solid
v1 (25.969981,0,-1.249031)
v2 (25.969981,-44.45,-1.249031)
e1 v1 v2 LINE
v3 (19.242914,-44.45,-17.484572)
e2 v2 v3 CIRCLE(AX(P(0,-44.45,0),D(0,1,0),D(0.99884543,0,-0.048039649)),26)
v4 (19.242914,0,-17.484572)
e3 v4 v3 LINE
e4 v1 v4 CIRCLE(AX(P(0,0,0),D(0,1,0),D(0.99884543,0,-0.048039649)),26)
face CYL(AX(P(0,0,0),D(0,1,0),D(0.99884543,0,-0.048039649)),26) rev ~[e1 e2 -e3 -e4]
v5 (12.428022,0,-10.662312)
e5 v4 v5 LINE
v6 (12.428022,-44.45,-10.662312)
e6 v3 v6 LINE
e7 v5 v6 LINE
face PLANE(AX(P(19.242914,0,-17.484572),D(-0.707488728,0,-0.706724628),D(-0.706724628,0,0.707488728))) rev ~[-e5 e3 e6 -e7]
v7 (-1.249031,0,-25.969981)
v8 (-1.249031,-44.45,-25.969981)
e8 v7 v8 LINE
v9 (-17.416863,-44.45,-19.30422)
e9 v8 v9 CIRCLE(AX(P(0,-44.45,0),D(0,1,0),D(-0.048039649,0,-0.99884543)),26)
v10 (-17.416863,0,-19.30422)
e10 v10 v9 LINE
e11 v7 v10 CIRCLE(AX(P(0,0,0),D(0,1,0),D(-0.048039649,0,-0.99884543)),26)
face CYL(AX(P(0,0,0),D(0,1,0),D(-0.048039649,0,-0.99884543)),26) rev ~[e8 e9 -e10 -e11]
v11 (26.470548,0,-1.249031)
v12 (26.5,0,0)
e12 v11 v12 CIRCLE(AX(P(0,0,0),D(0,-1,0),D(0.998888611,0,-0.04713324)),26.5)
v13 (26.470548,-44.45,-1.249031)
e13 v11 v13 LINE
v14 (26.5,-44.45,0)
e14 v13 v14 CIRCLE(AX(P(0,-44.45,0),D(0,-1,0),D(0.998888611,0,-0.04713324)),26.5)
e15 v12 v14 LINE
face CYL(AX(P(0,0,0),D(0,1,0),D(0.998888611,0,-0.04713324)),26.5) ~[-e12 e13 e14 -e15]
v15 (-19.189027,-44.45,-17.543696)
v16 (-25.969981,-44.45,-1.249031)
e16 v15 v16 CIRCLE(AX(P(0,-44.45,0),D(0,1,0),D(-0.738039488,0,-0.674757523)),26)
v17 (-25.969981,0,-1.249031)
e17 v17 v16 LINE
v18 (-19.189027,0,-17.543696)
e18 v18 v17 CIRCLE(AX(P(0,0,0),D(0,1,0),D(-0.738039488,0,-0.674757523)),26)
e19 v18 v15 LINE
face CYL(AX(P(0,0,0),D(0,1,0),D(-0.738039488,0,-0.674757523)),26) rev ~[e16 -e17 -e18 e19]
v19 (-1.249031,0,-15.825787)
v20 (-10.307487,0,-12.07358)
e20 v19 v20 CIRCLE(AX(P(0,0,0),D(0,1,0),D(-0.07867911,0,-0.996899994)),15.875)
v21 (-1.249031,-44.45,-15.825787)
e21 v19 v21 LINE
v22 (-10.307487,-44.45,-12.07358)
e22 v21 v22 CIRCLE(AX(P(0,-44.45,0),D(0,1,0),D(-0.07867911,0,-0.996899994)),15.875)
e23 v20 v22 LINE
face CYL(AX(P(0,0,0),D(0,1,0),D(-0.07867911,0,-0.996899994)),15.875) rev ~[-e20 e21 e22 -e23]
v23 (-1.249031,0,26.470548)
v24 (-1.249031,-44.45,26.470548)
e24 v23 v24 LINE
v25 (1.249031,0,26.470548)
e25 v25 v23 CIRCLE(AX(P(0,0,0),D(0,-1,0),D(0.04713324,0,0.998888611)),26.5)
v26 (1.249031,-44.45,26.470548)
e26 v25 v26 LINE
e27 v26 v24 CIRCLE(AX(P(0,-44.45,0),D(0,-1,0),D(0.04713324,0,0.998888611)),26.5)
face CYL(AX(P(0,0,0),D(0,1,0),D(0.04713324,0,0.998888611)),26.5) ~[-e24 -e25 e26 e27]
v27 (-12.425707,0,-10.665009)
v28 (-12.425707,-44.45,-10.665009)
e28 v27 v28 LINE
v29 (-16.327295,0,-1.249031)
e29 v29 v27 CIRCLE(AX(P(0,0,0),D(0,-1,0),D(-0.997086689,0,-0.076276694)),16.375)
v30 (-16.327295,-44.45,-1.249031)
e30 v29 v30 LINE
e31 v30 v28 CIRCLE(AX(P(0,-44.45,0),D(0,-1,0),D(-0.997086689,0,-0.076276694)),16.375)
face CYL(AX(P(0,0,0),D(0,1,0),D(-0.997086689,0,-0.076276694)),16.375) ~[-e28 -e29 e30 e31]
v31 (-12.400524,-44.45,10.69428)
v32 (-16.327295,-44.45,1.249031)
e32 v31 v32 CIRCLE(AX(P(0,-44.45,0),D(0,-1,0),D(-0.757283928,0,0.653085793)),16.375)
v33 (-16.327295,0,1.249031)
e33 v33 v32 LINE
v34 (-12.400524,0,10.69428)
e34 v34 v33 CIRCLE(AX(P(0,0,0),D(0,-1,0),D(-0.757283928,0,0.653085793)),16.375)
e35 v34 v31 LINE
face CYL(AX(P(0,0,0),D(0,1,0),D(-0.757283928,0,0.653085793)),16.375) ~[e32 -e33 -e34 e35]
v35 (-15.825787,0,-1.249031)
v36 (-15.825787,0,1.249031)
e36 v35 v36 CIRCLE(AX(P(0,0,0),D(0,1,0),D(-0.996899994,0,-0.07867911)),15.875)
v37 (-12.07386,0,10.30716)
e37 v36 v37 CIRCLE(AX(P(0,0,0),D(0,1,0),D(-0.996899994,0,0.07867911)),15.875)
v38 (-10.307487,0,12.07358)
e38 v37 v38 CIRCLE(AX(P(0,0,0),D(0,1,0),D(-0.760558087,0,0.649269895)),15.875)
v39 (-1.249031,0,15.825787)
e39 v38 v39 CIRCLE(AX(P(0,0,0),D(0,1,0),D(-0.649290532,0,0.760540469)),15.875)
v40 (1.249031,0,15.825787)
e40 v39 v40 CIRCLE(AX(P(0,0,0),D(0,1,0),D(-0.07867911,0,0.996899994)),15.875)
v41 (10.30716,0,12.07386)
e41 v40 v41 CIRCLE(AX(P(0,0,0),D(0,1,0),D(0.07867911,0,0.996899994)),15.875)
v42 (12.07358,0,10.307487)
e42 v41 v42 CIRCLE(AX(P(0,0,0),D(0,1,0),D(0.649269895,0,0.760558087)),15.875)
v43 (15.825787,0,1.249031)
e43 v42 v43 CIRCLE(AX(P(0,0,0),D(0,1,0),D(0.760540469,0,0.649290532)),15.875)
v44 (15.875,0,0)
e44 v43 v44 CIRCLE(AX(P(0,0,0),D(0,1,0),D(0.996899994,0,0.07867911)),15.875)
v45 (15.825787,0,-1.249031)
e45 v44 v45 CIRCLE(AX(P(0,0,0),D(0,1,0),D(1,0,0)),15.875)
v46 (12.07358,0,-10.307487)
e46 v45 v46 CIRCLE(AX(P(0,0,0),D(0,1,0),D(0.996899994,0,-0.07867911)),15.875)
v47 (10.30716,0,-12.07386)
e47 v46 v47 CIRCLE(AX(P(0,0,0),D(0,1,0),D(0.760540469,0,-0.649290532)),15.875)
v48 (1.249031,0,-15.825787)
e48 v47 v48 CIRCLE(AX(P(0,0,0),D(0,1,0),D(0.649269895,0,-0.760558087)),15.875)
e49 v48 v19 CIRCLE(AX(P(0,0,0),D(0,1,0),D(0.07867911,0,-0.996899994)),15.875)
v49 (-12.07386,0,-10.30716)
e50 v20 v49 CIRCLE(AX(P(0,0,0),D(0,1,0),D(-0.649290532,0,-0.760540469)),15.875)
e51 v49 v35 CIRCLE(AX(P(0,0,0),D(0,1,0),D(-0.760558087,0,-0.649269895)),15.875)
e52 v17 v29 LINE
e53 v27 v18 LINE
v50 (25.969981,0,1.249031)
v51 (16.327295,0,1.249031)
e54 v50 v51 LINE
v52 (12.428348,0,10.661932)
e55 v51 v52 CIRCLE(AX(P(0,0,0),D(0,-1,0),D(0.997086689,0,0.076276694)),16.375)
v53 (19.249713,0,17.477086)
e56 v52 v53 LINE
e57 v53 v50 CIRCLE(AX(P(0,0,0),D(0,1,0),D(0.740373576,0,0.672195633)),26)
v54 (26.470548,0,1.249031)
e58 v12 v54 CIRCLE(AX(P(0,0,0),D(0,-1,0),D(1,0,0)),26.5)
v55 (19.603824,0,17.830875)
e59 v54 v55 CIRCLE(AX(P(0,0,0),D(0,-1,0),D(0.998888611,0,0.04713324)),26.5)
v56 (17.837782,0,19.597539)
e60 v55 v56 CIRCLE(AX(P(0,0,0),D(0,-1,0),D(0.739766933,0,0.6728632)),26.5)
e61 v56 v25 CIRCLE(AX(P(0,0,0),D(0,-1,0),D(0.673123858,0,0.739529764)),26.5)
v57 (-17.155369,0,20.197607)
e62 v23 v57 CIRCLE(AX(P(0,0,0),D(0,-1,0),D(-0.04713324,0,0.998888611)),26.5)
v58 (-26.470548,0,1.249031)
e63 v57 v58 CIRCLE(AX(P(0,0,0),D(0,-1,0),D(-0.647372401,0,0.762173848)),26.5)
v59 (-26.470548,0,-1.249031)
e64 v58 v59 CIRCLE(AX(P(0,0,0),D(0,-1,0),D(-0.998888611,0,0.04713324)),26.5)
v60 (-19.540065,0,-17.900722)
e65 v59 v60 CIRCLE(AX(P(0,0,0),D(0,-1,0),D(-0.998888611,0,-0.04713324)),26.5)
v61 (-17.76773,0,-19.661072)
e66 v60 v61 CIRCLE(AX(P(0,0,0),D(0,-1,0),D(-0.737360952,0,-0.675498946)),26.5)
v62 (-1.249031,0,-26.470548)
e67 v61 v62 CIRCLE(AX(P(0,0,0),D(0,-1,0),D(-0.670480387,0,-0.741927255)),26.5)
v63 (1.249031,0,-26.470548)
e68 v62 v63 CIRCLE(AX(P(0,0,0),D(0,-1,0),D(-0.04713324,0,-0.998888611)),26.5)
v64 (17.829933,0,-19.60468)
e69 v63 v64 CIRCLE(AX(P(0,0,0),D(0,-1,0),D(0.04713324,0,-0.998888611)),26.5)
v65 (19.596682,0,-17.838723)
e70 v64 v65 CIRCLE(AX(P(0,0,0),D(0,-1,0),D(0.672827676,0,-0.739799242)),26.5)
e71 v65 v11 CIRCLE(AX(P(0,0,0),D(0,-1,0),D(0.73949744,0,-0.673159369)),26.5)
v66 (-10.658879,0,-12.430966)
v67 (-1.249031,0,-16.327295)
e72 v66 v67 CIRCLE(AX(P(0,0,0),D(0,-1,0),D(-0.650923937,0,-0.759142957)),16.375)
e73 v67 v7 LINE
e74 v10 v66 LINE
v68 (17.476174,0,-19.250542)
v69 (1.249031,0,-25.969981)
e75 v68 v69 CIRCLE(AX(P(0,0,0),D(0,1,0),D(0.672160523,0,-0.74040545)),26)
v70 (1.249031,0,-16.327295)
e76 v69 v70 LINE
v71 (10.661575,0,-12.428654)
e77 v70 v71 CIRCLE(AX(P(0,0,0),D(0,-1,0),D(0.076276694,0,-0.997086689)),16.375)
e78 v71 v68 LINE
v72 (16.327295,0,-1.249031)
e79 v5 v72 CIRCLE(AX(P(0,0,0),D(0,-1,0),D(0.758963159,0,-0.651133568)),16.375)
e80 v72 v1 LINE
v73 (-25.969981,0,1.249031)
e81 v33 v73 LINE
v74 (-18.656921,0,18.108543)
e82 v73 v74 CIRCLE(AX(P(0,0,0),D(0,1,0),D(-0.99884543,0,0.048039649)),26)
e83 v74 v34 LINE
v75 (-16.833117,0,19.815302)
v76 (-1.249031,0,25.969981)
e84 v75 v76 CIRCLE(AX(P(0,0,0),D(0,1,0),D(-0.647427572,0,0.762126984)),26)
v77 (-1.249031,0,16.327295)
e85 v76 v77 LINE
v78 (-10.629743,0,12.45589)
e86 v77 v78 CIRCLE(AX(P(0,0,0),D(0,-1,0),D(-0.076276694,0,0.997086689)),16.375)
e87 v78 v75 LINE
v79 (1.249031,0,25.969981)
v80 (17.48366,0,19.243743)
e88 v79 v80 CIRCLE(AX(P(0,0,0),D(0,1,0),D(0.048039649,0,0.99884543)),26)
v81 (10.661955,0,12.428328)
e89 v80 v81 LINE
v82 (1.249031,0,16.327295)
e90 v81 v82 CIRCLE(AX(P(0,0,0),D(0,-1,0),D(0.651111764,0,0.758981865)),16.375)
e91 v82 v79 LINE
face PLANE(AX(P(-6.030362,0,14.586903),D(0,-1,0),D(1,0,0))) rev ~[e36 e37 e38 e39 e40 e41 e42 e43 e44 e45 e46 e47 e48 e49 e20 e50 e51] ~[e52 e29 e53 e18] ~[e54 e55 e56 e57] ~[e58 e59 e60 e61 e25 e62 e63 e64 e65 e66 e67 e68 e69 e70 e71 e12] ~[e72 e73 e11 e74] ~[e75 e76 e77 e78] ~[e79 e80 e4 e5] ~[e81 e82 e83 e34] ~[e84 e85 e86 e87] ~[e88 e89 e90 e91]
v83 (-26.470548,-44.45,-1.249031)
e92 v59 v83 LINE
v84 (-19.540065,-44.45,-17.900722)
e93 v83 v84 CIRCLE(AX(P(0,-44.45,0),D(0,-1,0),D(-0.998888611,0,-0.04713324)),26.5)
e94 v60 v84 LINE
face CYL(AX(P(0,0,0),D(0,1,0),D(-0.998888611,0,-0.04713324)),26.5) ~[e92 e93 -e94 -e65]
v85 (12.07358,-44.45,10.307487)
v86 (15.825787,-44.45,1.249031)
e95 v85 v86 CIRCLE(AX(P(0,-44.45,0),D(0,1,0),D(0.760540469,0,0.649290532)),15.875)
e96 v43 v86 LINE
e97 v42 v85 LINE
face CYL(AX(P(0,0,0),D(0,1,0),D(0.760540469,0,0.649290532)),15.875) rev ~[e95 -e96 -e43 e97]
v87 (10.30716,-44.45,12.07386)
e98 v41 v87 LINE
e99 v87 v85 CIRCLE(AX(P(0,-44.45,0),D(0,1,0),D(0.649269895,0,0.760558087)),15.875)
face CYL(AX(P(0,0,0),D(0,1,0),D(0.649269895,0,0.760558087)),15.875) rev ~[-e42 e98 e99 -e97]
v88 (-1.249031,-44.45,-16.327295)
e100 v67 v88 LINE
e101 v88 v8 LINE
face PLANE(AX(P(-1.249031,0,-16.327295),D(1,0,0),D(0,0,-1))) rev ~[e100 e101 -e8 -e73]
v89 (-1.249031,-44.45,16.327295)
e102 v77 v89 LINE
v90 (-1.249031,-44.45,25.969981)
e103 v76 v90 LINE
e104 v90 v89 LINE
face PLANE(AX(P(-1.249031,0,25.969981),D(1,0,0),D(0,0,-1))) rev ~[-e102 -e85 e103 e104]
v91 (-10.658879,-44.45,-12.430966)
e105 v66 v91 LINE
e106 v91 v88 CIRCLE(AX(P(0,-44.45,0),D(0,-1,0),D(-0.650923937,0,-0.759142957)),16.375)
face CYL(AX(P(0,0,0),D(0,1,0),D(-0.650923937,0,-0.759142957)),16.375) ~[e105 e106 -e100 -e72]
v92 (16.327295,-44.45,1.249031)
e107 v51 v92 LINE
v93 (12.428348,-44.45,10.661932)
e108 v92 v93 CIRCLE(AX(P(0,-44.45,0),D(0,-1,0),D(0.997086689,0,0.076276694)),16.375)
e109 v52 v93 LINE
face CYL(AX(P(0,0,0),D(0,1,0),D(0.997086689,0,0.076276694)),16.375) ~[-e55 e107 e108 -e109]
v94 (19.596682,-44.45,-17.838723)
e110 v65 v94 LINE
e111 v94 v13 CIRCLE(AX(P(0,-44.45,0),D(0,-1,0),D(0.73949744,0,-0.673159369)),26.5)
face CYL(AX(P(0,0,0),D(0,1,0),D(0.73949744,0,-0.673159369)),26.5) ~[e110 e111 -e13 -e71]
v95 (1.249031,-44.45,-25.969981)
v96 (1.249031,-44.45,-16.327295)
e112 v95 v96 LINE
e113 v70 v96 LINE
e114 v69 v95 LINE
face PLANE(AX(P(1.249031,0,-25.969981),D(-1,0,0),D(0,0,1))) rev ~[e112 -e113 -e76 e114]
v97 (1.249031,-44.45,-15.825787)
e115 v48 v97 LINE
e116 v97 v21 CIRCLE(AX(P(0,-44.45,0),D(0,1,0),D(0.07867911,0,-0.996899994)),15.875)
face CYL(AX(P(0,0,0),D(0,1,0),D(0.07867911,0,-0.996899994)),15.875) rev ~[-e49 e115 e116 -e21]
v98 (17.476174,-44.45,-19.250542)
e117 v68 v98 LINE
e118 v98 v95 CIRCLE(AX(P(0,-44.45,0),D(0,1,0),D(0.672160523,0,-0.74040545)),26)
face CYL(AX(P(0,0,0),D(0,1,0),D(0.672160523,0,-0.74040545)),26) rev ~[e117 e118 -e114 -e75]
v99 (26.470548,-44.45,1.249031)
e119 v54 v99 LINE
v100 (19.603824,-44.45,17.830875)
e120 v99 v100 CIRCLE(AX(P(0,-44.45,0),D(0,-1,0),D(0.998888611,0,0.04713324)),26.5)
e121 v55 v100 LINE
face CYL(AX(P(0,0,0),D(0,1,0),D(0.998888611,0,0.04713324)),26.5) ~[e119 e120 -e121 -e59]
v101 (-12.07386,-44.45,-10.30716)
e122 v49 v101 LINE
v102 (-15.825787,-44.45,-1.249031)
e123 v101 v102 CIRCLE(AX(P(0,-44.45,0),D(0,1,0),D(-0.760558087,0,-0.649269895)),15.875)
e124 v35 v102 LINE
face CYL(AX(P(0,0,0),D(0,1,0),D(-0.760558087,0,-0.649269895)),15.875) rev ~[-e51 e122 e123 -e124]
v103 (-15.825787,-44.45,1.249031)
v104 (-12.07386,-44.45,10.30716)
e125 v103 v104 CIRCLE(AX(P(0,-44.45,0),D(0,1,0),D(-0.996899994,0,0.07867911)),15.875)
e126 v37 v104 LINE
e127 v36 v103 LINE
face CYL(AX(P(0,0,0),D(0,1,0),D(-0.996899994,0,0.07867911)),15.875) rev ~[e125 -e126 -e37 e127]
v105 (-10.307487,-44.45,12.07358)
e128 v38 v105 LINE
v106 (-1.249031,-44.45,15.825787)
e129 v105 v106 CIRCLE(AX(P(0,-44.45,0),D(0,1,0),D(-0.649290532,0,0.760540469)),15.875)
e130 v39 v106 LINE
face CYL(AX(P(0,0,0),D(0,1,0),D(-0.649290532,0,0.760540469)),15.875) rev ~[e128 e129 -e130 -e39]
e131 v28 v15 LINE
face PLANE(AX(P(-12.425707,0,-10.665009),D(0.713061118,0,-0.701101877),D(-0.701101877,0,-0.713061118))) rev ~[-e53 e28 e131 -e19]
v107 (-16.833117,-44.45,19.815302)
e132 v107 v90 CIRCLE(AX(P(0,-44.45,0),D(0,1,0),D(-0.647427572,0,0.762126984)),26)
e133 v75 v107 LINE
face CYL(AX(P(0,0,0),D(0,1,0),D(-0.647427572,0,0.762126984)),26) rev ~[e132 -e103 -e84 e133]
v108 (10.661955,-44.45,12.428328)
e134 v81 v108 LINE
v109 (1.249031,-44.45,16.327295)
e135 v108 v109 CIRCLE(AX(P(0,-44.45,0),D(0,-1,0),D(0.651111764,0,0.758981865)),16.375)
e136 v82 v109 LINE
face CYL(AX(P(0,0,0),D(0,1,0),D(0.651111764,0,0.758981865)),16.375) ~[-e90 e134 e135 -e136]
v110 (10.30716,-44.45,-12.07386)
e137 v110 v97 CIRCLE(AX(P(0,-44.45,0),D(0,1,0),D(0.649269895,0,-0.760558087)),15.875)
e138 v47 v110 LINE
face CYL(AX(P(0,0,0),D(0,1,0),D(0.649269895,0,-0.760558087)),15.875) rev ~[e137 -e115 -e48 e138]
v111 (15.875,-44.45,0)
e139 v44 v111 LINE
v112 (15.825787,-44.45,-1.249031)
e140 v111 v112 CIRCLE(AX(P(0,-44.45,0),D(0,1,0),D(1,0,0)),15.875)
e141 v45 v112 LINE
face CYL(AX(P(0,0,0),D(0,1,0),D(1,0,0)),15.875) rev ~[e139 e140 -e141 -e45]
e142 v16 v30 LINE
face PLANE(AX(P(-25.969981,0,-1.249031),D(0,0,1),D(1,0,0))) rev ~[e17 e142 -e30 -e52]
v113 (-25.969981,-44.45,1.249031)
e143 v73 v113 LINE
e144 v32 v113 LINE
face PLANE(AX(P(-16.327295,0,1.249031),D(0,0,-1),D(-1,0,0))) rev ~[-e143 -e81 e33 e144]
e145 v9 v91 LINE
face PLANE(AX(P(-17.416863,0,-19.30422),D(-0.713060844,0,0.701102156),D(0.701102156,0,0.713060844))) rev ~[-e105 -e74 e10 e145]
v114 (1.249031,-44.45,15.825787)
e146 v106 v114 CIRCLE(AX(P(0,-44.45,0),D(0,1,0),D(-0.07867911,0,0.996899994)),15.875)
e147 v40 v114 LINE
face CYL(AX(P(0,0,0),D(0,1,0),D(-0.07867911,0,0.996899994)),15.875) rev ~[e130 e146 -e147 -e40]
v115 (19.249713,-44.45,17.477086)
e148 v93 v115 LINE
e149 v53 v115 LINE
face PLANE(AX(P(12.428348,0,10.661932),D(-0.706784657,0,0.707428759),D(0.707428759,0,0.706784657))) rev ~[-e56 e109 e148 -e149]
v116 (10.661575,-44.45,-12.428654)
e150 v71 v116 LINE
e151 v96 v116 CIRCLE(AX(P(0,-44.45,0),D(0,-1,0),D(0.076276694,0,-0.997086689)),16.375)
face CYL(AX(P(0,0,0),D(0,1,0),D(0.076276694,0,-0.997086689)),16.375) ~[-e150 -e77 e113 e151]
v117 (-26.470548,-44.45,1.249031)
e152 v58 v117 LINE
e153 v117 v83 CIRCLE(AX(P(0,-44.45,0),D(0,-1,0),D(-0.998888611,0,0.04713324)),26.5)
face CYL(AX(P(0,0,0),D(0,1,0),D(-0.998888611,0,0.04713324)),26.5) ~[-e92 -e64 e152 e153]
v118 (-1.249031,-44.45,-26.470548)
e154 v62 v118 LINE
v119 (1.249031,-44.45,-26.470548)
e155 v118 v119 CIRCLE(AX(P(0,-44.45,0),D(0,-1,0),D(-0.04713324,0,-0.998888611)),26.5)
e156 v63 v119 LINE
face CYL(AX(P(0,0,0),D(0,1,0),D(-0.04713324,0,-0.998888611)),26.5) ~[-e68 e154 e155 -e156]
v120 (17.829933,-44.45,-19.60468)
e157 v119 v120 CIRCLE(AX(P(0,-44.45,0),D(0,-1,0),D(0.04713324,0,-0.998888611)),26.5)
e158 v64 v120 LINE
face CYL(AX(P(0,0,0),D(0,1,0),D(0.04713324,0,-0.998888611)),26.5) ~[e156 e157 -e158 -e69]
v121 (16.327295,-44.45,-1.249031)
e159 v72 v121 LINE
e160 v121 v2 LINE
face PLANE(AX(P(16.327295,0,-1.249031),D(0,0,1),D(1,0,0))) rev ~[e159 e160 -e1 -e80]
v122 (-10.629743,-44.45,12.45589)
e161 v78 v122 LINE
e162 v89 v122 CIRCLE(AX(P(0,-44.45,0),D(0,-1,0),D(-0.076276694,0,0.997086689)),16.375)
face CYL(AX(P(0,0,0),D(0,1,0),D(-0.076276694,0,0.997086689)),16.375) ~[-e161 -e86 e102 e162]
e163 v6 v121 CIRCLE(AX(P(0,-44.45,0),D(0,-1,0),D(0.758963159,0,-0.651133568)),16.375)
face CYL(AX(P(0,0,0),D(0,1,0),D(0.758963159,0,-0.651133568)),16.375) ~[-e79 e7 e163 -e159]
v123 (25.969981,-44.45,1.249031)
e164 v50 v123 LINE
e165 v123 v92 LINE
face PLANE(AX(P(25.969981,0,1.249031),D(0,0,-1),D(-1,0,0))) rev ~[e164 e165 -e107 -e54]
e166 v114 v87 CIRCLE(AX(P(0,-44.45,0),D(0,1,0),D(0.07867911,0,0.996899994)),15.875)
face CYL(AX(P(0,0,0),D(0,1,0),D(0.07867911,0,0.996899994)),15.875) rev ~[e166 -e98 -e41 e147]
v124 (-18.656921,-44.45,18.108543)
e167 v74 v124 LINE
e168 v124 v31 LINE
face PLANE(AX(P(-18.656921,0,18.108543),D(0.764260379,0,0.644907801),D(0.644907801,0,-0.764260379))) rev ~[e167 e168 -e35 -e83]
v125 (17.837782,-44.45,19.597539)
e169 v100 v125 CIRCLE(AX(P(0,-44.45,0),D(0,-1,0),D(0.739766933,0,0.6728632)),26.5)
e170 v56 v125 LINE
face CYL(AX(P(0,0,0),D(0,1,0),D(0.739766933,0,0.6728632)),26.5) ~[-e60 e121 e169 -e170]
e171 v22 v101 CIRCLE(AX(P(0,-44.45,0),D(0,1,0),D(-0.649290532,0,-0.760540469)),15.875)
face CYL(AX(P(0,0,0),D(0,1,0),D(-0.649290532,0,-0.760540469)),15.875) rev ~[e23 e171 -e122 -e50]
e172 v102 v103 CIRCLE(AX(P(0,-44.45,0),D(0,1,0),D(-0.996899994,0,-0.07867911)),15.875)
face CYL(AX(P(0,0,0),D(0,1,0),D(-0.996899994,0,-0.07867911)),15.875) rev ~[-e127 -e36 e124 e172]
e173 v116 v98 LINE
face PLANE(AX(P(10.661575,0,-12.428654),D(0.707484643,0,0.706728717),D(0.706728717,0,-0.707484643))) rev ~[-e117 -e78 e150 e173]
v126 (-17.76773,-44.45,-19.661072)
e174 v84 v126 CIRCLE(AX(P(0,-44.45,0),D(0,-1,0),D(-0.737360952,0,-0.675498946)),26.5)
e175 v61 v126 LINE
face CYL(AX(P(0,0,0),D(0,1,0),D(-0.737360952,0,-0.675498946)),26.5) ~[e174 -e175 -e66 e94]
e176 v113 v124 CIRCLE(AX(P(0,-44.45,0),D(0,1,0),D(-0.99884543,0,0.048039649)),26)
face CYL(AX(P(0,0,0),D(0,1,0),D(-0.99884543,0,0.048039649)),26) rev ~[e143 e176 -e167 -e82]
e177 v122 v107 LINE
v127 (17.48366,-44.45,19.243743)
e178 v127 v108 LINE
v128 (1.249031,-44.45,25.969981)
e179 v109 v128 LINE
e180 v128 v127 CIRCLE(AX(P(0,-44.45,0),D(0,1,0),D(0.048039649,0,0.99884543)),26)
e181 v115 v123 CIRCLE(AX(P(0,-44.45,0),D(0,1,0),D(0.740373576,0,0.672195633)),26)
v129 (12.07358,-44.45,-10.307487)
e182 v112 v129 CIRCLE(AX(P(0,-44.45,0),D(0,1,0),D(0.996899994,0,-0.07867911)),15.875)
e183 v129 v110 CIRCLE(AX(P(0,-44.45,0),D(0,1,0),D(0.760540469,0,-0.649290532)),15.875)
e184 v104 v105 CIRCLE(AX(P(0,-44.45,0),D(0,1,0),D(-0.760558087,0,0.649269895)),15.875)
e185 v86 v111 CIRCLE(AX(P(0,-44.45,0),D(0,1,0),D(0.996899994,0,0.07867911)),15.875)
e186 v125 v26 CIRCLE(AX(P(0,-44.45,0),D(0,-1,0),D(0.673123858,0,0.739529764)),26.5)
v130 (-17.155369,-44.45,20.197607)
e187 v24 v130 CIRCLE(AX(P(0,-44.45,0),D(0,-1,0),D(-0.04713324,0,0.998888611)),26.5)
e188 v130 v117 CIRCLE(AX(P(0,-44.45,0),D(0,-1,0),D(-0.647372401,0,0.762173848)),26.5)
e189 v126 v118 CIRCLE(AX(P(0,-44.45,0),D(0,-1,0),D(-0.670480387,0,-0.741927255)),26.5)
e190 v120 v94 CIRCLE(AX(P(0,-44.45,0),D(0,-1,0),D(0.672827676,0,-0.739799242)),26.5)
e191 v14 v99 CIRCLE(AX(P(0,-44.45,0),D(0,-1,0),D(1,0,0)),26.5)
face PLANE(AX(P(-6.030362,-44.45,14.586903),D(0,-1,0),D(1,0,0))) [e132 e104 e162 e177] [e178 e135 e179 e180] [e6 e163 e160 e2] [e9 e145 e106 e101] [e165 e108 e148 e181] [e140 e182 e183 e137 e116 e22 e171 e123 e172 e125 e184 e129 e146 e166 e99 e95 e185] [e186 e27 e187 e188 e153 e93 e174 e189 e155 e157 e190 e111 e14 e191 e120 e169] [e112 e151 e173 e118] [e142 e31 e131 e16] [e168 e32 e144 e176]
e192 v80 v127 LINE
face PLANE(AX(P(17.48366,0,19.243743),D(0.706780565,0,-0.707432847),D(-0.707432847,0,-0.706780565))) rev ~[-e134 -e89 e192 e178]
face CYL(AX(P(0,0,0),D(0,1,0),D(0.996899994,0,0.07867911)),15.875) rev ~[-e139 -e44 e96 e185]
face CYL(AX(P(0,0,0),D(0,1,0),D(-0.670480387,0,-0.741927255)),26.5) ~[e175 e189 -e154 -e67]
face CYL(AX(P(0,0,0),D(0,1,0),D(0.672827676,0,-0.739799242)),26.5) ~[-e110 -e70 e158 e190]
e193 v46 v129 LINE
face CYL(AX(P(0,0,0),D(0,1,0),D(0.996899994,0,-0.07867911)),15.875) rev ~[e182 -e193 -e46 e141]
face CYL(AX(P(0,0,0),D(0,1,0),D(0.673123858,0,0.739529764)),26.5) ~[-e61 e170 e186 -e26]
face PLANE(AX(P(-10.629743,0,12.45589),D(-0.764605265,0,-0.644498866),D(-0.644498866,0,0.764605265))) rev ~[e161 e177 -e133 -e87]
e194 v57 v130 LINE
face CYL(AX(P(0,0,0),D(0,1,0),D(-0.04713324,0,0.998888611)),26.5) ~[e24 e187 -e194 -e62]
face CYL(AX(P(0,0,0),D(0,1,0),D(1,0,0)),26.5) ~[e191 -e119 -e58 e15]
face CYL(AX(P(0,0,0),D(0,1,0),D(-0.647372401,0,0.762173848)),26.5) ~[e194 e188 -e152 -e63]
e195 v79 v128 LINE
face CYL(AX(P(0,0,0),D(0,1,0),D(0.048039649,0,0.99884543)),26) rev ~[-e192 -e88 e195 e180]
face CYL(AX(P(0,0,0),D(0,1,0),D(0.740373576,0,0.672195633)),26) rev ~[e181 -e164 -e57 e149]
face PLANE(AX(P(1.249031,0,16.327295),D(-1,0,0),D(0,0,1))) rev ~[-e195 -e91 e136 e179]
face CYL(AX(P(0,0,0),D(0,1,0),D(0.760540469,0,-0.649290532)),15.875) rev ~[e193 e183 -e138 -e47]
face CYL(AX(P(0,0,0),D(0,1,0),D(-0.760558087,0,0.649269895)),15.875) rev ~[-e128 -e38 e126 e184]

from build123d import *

# Parameters (mm, degrees)
F1_DEPTH = 44.45


with BuildPart() as f1:
    # F0 (on Front) → F1 (new body)
    with BuildSketch(Plane.XZ):
        with BuildLine():
            Line((-1.2490308724, 15.8257874016), (-1.2490308724, 16.3272945364))
            ThreePointArc((-1.2490308724, 16.3272945364), (-6.2468599625, 15.1366233226), (-10.6297427896, 12.455889901))
            Line((-10.6297427896, 12.455889901), (-10.3074871892, 12.0735799515))
            ThreePointArc((-10.3074871892, 12.0735799515), (-6.0751989773, 14.6665463687), (-1.2490308724, 15.8257874016))
        make_face()
        with BuildLine():
            Line((1.2490308724, 15.8257874016), (1.2490308724, 16.3272945364))
            ThreePointArc((1.2490308724, 16.3272945364), (0, 16.375), (-1.2490308724, 16.3272945364))
            Line((-1.2490308724, 16.3272945364), (-1.2490308724, 15.8257874016))
            ThreePointArc((-1.2490308724, 15.8257874016), (0, 15.875), (1.2490308724, 15.8257874016))
        make_face()
        with BuildLine():
            Line((-10.3074871892, 12.0735799515), (-10.6297427896, 12.455889901))
            ThreePointArc((-10.6297427896, 12.455889901), (-11.5487712868, 11.6088977411), (-12.4005243169, 10.6942798573))
            Line((-12.4005243169, 10.6942798573), (-12.0738596244, 10.3071595879))
            ThreePointArc((-12.0738596244, 10.3071595879), (-11.2254724409, 11.2251678597), (-10.3074871892, 12.0735799515))
        make_face()
        with BuildLine():
            Line((-12.0738596244, 10.3071595879), (-12.4005243169, 10.6942798573))
            ThreePointArc((-12.4005243169, 10.6942798573), (-15.120353042, 6.2861394262), (-16.3272945364, 1.2490308724))
            Line((-16.3272945364, 1.2490308724), (-15.8257874016, 1.2490308724))
            ThreePointArc((-15.8257874016, 1.2490308724), (-14.6666287878, 6.075), (-12.0738596244, 10.3071595879))
        make_face()
        with BuildLine():
            Line((-15.8257874016, 1.2490308724), (-16.3272945364, 1.2490308724))
            ThreePointArc((-16.3272945364, 1.2490308724), (-16.375, 0), (-16.3272945364, -1.2490308724))
            Line((-16.3272945364, -1.2490308724), (-15.8257874016, -1.2490308724))
            ThreePointArc((-15.8257874016, -1.2490308724), (-15.875, 0), (-15.8257874016, 1.2490308724))
        make_face()
        with BuildLine():
            ThreePointArc((-16.3272945364, -1.2490308724), (-15.1277540364, -6.2683078112), (-12.42570743, -10.6650091357))
            Line((-12.42570743, -10.6650091357), (-12.0738596244, -10.3071595879))
            ThreePointArc((-12.0738596244, -10.3071595879), (-14.6666287878, -6.075), (-15.8257874016, -1.2490308724))
            Line((-15.8257874016, -1.2490308724), (-16.3272945364, -1.2490308724))
        make_face()
        with BuildLine():
            Line((10.3071595879, 12.0738596244), (10.6619551336, 12.4283280343))
            ThreePointArc((10.6619551336, 12.4283280343), (6.2664489031, 15.1285241562), (1.2490308724, 16.3272945364))
            Line((1.2490308724, 16.3272945364), (1.2490308724, 15.8257874016))
            ThreePointArc((1.2490308724, 15.8257874016), (6.075, 14.6666287878), (10.3071595879, 12.0738596244))
        make_face()
        with BuildLine():
            Line((12.0735799515, 10.3074871892), (12.4283478304, 10.6619320579))
            ThreePointArc((12.4283478304, 10.6619320579), (11.5788842912, 11.5788627927), (10.6619551336, 12.4283280343))
            Line((10.6619551336, 12.4283280343), (10.3071595879, 12.0738596244))
            ThreePointArc((10.3071595879, 12.0738596244), (11.2251678597, 11.2254724409), (12.0735799515, 10.3074871892))
        make_face()
        with BuildLine():
            Line((15.8257874016, 1.2490308724), (16.3272945364, 1.2490308724))
            ThreePointArc((16.3272945364, 1.2490308724), (15.1285299737, 6.2664348585), (12.4283478304, 10.6619320579))
            Line((12.4283478304, 10.6619320579), (12.0735799515, 10.3074871892))
            ThreePointArc((12.0735799515, 10.3074871892), (14.6665463687, 6.0751989773), (15.8257874016, 1.2490308724))
        make_face()
        with BuildLine():
            ThreePointArc((16.375, 0), (16.3630692878, 0.6249707856), (16.3272945364, 1.2490308724))
            Line((16.3272945364, 1.2490308724), (15.8257874016, 1.2490308724))
            ThreePointArc((15.8257874016, 1.2490308724), (15.8626920792, 0.625), (15.875, 0))
            ThreePointArc((15.875, 0), (15.8626920792, -0.625), (15.8257874016, -1.2490308724))
            Line((15.8257874016, -1.2490308724), (16.3272945364, -1.2490308724))
            ThreePointArc((16.3272945364, -1.2490308724), (16.3630692878, -0.6249707856), (16.375, 0))
        make_face()
        with BuildLine():
            ThreePointArc((12.4280217247, -10.6623121793), (15.1284341411, -6.2666662141), (16.3272945364, -1.2490308724))
            Line((16.3272945364, -1.2490308724), (15.8257874016, -1.2490308724))
            ThreePointArc((15.8257874016, -1.2490308724), (14.6665463687, -6.0751989773), (12.0735799515, -10.3074871892))
            Line((12.0735799515, -10.3074871892), (12.4280217247, -10.6623121793))
        make_face()
        with BuildLine():
            ThreePointArc((10.6615750043, -12.4286541278), (11.5785301419, -11.5792169318), (12.4280217247, -10.6623121793))
            Line((12.4280217247, -10.6623121793), (12.0735799515, -10.3074871892))
            ThreePointArc((12.0735799515, -10.3074871892), (11.2251678597, -11.2254724409), (10.3071595879, -12.0738596244))
            Line((10.3071595879, -12.0738596244), (10.6615750043, -12.4286541278))
        make_face()
        with BuildLine():
            ThreePointArc((1.2490308724, -16.3272945364), (6.266217547, -15.1286199851), (10.6615750043, -12.4286541278))
            Line((10.6615750043, -12.4286541278), (10.3071595879, -12.0738596244))
            ThreePointArc((10.3071595879, -12.0738596244), (6.075, -14.6666287878), (1.2490308724, -15.8257874016))
            Line((1.2490308724, -15.8257874016), (1.2490308724, -16.3272945364))
        make_face()
        with BuildLine():
            ThreePointArc((-1.2490308724, -16.3272945364), (0, -16.375), (1.2490308724, -16.3272945364))
            Line((1.2490308724, -16.3272945364), (1.2490308724, -15.8257874016))
            ThreePointArc((1.2490308724, -15.8257874016), (0, -15.875), (-1.2490308724, -15.8257874016))
            Line((-1.2490308724, -15.8257874016), (-1.2490308724, -16.3272945364))
        make_face()
        with BuildLine():
            ThreePointArc((-10.6588794621, -12.4309659163), (-6.2645771056, -15.1292993456), (-1.2490308724, -16.3272945364))
            Line((-1.2490308724, -16.3272945364), (-1.2490308724, -15.8257874016))
            ThreePointArc((-1.2490308724, -15.8257874016), (-6.0751989773, -14.6665463687), (-10.3074871892, -12.0735799515))
            Line((-10.3074871892, -12.0735799515), (-10.6588794621, -12.4309659163))
        make_face()
        with BuildLine():
            ThreePointArc((-12.42570743, -10.6650091357), (-11.5760178314, -11.5817285483), (-10.6588794621, -12.4309659163))
            Line((-10.6588794621, -12.4309659163), (-10.3074871892, -12.0735799515))
            ThreePointArc((-10.3074871892, -12.0735799515), (-11.2254724409, -11.2251678597), (-12.0738596244, -10.3071595879))
            Line((-12.0738596244, -10.3071595879), (-12.42570743, -10.6650091357))
        make_face()
        with BuildLine():
            Line((-16.3272945364, 1.2490308724), (-25.9699811683, 1.2490308724))
            ThreePointArc((-25.9699811683, 1.2490308724), (-26, 0), (-25.9699811683, -1.2490308724))
            Line((-25.9699811683, -1.2490308724), (-16.3272945364, -1.2490308724))
            ThreePointArc((-16.3272945364, -1.2490308724), (-16.375, 0), (-16.3272945364, 1.2490308724))
        make_face()
        with BuildLine():
            Line((-10.6297427896, 12.455889901), (-16.8331168629, 19.8153015793))
            ThreePointArc((-16.8331168629, 19.8153015793), (-17.7655269326, 18.9838366198), (-18.6569206444, 18.1085425164))
            Line((-18.6569206444, 18.1085425164), (-12.4005243169, 10.6942798573))
            ThreePointArc((-12.4005243169, 10.6942798573), (-11.5487712868, 11.6088977411), (-10.6297427896, 12.455889901))
        make_face()
        with BuildLine():
            Line((1.2490308724, 16.3272945364), (1.2490308724, 25.9699811683))
            ThreePointArc((1.2490308724, 25.9699811683), (0, 26), (-1.2490308724, 25.9699811683))
            Line((-1.2490308724, 25.9699811683), (-1.2490308724, 16.3272945364))
            ThreePointArc((-1.2490308724, 16.3272945364), (0, 16.375), (1.2490308724, 16.3272945364))
        make_face()
        with BuildLine():
            Line((12.4283478304, 10.6619320579), (19.2497129633, 17.4770864514))
            ThreePointArc((19.2497129633, 17.4770864514), (18.3879155416, 18.381636544), (17.4836598335, 19.2437428487))
            Line((17.4836598335, 19.2437428487), (10.6619551336, 12.4283280343))
            ThreePointArc((10.6619551336, 12.4283280343), (11.5788842912, 11.5788627927), (12.4283478304, 10.6619320579))
        make_face()
        with BuildLine():
            ThreePointArc((26, 0), (25.9924942087, 0.624695776), (25.9699811683, 1.2490308724))
            Line((25.9699811683, 1.2490308724), (16.3272945364, 1.2490308724))
            ThreePointArc((16.3272945364, 1.2490308724), (16.3630692878, 0.6249707856), (16.375, 0))
            ThreePointArc((16.375, 0), (16.3630692878, -0.6249707856), (16.3272945364, -1.2490308724))
            Line((16.3272945364, -1.2490308724), (25.9699811683, -1.2490308724))
            ThreePointArc((25.9699811683, -1.2490308724), (25.9924942087, -0.624695776), (26, 0))
        make_face()
        with BuildLine():
            ThreePointArc((17.4761736065, -19.2505417087), (18.3807645643, -18.3887871822), (19.2429137476, -17.4845723568))
            Line((19.2429137476, -17.4845723568), (12.4280217247, -10.6623121793))
            ThreePointArc((12.4280217247, -10.6623121793), (11.5785301419, -11.5792169318), (10.6615750043, -12.4286541278))
            Line((10.6615750043, -12.4286541278), (17.4761736065, -19.2505417087))
        make_face()
        with BuildLine():
            ThreePointArc((-1.2490308724, -25.9699811683), (0, -26), (1.2490308724, -25.9699811683))
            Line((1.2490308724, -25.9699811683), (1.2490308724, -16.3272945364))
            ThreePointArc((1.2490308724, -16.3272945364), (0, -16.375), (-1.2490308724, -16.3272945364))
            Line((-1.2490308724, -16.3272945364), (-1.2490308724, -25.9699811683))
        make_face()
        with BuildLine():
            ThreePointArc((-19.189026681, -17.5436955923), (-18.3241000354, -18.4452529907), (-17.4168625049, -19.3042197585))
            Line((-17.4168625049, -19.3042197585), (-10.6588794621, -12.4309659163))
            ThreePointArc((-10.6588794621, -12.4309659163), (-11.5760178314, -11.5817285483), (-12.42570743, -10.6650091357))
            Line((-12.42570743, -10.6650091357), (-19.189026681, -17.5436955923))
        make_face()
        with BuildLine():
            ThreePointArc((-26.4705481976, -1.2490308724), (-24.4655644109, -10.1826400337), (-19.540065228, -17.9007220772))
            Line((-19.540065228, -17.9007220772), (-19.189026681, -17.5436955923))
            ThreePointArc((-19.189026681, -17.5436955923), (-24.0044375495, -9.9893432183), (-25.9699811683, -1.2490308724))
            Line((-25.9699811683, -1.2490308724), (-26.4705481976, -1.2490308724))
        make_face()
        with BuildLine():
            Line((-25.9699811683, 1.2490308724), (-26.4705481976, 1.2490308724))
            ThreePointArc((-26.4705481976, 1.2490308724), (-26.5, 0), (-26.4705481976, -1.2490308724))
            Line((-26.4705481976, -1.2490308724), (-25.9699811683, -1.2490308724))
            ThreePointArc((-25.9699811683, -1.2490308724), (-26, 0), (-25.9699811683, 1.2490308724))
        make_face()
        with BuildLine():
            Line((-18.6569206444, 18.1085425164), (-18.9809440271, 18.4925326508))
            ThreePointArc((-18.9809440271, 18.4925326508), (-24.3062569055, 10.5572664664), (-26.4705481976, 1.2490308724))
            Line((-26.4705481976, 1.2490308724), (-25.9699811683, 1.2490308724))
            ThreePointArc((-25.9699811683, 1.2490308724), (-23.8526911389, 10.3464547276), (-18.6569206444, 18.1085425164))
        make_face()
        with BuildLine():
            Line((-16.8331168629, 19.8153015793), (-17.1553686227, 20.1976069726))
            ThreePointArc((-17.1553686227, 20.1976069726), (-18.0882584179, 19.3665925606), (-18.9809440271, 18.4925326508))
            Line((-18.9809440271, 18.4925326508), (-18.6569206444, 18.1085425164))
            ThreePointArc((-18.6569206444, 18.1085425164), (-17.7655269326, 18.9838366198), (-16.8331168629, 19.8153015793))
        make_face()
        with BuildLine():
            Line((-1.2490308724, 25.9699811683), (-1.2490308724, 26.4705481976))
            ThreePointArc((-1.2490308724, 26.4705481976), (-9.7220331257, 24.6522224536), (-17.1553686227, 20.1976069726))
            Line((-17.1553686227, 20.1976069726), (-16.8331168629, 19.8153015793))
            ThreePointArc((-16.8331168629, 19.8153015793), (-9.5504469472, 24.1824102006), (-1.2490308724, 25.9699811683))
        make_face()
        with BuildLine():
            Line((1.2490308724, 25.9699811683), (1.2490308724, 26.4705481976))
            ThreePointArc((1.2490308724, 26.4705481976), (0, 26.5), (-1.2490308724, 26.4705481976))
            Line((-1.2490308724, 26.4705481976), (-1.2490308724, 25.9699811683))
            ThreePointArc((-1.2490308724, 25.9699811683), (0, 26), (1.2490308724, 25.9699811683))
        make_face()
        with BuildLine():
            Line((17.4836598335, 19.2437428487), (17.8377822412, 19.5975387413))
            ThreePointArc((17.8377822412, 19.5975387413), (10.1432821835, 24.4819081476), (1.2490308724, 26.4705481976))
            Line((1.2490308724, 26.4705481976), (1.2490308724, 25.9699811683))
            ThreePointArc((1.2490308724, 25.9699811683), (9.9518337885, 24.020012578), (17.4836598335, 19.2437428487))
        make_face()
        with BuildLine():
            Line((19.2497129633, 17.4770864514), (19.6038237141, 17.8308747903))
            ThreePointArc((19.6038237141, 17.8308747903), (18.7416311858, 18.7350276353), (17.8377822412, 19.5975387413))
            Line((17.8377822412, 19.5975387413), (17.4836598335, 19.2437428487))
            ThreePointArc((17.4836598335, 19.2437428487), (18.3879155416, 18.381636544), (19.2497129633, 17.4770864514))
        make_face()
        with BuildLine():
            Line((25.9699811683, 1.2490308724), (26.4705481976, 1.2490308724))
            ThreePointArc((26.4705481976, 1.2490308724), (24.483695058, 10.1389682072), (19.6038237141, 17.8308747903))
            Line((19.6038237141, 17.8308747903), (19.2497129633, 17.4770864514))
            ThreePointArc((19.2497129633, 17.4770864514), (24.0217116648, 9.9477318366), (25.9699811683, 1.2490308724))
        make_face()
        with BuildLine():
            ThreePointArc((26.4705481976, -1.2490308724), (26.4926360262, -0.6246890284), (26.5, 0))
            ThreePointArc((26.5, 0), (26.4926360262, 0.6246890284), (26.4705481976, 1.2490308724))
            Line((26.4705481976, 1.2490308724), (25.9699811683, 1.2490308724))
            ThreePointArc((25.9699811683, 1.2490308724), (25.9924942087, 0.624695776), (26, 0))
            ThreePointArc((26, 0), (25.9924942087, -0.624695776), (25.9699811683, -1.2490308724))
            Line((25.9699811683, -1.2490308724), (26.4705481976, -1.2490308724))
        make_face()
        with BuildLine():
            ThreePointArc((19.5966821713, -17.8387232693), (24.4816646068, -10.1438699755), (26.4705481976, -1.2490308724))
            Line((26.4705481976, -1.2490308724), (25.9699811683, -1.2490308724))
            ThreePointArc((25.9699811683, -1.2490308724), (24.019776612, -9.9524033031), (19.2429137476, -17.4845723568))
            Line((19.2429137476, -17.4845723568), (19.5966821713, -17.8387232693))
        make_face()
        with BuildLine():
            ThreePointArc((17.8299334192, -19.6046799073), (18.7341276645, -18.7425307963), (19.5966821713, -17.8387232693))
            Line((19.5966821713, -17.8387232693), (19.2429137476, -17.4845723568))
            ThreePointArc((19.2429137476, -17.4845723568), (18.3807645643, -18.3887871822), (17.4761736065, -19.2505417087))
            Line((17.4761736065, -19.2505417087), (17.8299334192, -19.6046799073))
        make_face()
        with BuildLine():
            ThreePointArc((1.2490308724, -26.4705481976), (10.1383803665, -24.4839384811), (17.8299334192, -19.6046799073))
            Line((17.8299334192, -19.6046799073), (17.4761736065, -19.2505417087))
            ThreePointArc((17.4761736065, -19.2505417087), (9.9471622766, -24.0219475198), (1.2490308724, -25.9699811683))
            Line((1.2490308724, -25.9699811683), (1.2490308724, -26.4705481976))
        make_face()
        with BuildLine():
            ThreePointArc((-1.2490308724, -26.4705481976), (0, -26.5), (1.2490308724, -26.4705481976))
            Line((1.2490308724, -26.4705481976), (1.2490308724, -25.9699811683))
            ThreePointArc((1.2490308724, -25.9699811683), (0, -26), (-1.2490308724, -25.9699811683))
            Line((-1.2490308724, -25.9699811683), (-1.2490308724, -26.4705481976))
        make_face()
        with BuildLine():
            ThreePointArc((-17.7677302473, -19.6610722459), (-10.0995812564, -24.4999685397), (-1.2490308724, -26.4705481976))
            Line((-1.2490308724, -26.4705481976), (-1.2490308724, -25.9699811683))
            ThreePointArc((-1.2490308724, -25.9699811683), (-9.9101961477, -24.0372213934), (-17.4168625049, -19.3042197585))
            Line((-17.4168625049, -19.3042197585), (-17.7677302473, -19.6610722459))
        make_face()
        with BuildLine():
            ThreePointArc((-19.540065228, -17.9007220772), (-18.6746515091, -18.8017922288), (-17.7677302473, -19.6610722459))
            Line((-17.7677302473, -19.6610722459), (-17.4168625049, -19.3042197585))
            ThreePointArc((-17.4168625049, -19.3042197585), (-18.3241000354, -18.4452529907), (-19.189026681, -17.5436955923))
            Line((-19.189026681, -17.5436955923), (-19.540065228, -17.9007220772))
        make_face()
    extrude(amount=F1_DEPTH)


solid = f1.part
